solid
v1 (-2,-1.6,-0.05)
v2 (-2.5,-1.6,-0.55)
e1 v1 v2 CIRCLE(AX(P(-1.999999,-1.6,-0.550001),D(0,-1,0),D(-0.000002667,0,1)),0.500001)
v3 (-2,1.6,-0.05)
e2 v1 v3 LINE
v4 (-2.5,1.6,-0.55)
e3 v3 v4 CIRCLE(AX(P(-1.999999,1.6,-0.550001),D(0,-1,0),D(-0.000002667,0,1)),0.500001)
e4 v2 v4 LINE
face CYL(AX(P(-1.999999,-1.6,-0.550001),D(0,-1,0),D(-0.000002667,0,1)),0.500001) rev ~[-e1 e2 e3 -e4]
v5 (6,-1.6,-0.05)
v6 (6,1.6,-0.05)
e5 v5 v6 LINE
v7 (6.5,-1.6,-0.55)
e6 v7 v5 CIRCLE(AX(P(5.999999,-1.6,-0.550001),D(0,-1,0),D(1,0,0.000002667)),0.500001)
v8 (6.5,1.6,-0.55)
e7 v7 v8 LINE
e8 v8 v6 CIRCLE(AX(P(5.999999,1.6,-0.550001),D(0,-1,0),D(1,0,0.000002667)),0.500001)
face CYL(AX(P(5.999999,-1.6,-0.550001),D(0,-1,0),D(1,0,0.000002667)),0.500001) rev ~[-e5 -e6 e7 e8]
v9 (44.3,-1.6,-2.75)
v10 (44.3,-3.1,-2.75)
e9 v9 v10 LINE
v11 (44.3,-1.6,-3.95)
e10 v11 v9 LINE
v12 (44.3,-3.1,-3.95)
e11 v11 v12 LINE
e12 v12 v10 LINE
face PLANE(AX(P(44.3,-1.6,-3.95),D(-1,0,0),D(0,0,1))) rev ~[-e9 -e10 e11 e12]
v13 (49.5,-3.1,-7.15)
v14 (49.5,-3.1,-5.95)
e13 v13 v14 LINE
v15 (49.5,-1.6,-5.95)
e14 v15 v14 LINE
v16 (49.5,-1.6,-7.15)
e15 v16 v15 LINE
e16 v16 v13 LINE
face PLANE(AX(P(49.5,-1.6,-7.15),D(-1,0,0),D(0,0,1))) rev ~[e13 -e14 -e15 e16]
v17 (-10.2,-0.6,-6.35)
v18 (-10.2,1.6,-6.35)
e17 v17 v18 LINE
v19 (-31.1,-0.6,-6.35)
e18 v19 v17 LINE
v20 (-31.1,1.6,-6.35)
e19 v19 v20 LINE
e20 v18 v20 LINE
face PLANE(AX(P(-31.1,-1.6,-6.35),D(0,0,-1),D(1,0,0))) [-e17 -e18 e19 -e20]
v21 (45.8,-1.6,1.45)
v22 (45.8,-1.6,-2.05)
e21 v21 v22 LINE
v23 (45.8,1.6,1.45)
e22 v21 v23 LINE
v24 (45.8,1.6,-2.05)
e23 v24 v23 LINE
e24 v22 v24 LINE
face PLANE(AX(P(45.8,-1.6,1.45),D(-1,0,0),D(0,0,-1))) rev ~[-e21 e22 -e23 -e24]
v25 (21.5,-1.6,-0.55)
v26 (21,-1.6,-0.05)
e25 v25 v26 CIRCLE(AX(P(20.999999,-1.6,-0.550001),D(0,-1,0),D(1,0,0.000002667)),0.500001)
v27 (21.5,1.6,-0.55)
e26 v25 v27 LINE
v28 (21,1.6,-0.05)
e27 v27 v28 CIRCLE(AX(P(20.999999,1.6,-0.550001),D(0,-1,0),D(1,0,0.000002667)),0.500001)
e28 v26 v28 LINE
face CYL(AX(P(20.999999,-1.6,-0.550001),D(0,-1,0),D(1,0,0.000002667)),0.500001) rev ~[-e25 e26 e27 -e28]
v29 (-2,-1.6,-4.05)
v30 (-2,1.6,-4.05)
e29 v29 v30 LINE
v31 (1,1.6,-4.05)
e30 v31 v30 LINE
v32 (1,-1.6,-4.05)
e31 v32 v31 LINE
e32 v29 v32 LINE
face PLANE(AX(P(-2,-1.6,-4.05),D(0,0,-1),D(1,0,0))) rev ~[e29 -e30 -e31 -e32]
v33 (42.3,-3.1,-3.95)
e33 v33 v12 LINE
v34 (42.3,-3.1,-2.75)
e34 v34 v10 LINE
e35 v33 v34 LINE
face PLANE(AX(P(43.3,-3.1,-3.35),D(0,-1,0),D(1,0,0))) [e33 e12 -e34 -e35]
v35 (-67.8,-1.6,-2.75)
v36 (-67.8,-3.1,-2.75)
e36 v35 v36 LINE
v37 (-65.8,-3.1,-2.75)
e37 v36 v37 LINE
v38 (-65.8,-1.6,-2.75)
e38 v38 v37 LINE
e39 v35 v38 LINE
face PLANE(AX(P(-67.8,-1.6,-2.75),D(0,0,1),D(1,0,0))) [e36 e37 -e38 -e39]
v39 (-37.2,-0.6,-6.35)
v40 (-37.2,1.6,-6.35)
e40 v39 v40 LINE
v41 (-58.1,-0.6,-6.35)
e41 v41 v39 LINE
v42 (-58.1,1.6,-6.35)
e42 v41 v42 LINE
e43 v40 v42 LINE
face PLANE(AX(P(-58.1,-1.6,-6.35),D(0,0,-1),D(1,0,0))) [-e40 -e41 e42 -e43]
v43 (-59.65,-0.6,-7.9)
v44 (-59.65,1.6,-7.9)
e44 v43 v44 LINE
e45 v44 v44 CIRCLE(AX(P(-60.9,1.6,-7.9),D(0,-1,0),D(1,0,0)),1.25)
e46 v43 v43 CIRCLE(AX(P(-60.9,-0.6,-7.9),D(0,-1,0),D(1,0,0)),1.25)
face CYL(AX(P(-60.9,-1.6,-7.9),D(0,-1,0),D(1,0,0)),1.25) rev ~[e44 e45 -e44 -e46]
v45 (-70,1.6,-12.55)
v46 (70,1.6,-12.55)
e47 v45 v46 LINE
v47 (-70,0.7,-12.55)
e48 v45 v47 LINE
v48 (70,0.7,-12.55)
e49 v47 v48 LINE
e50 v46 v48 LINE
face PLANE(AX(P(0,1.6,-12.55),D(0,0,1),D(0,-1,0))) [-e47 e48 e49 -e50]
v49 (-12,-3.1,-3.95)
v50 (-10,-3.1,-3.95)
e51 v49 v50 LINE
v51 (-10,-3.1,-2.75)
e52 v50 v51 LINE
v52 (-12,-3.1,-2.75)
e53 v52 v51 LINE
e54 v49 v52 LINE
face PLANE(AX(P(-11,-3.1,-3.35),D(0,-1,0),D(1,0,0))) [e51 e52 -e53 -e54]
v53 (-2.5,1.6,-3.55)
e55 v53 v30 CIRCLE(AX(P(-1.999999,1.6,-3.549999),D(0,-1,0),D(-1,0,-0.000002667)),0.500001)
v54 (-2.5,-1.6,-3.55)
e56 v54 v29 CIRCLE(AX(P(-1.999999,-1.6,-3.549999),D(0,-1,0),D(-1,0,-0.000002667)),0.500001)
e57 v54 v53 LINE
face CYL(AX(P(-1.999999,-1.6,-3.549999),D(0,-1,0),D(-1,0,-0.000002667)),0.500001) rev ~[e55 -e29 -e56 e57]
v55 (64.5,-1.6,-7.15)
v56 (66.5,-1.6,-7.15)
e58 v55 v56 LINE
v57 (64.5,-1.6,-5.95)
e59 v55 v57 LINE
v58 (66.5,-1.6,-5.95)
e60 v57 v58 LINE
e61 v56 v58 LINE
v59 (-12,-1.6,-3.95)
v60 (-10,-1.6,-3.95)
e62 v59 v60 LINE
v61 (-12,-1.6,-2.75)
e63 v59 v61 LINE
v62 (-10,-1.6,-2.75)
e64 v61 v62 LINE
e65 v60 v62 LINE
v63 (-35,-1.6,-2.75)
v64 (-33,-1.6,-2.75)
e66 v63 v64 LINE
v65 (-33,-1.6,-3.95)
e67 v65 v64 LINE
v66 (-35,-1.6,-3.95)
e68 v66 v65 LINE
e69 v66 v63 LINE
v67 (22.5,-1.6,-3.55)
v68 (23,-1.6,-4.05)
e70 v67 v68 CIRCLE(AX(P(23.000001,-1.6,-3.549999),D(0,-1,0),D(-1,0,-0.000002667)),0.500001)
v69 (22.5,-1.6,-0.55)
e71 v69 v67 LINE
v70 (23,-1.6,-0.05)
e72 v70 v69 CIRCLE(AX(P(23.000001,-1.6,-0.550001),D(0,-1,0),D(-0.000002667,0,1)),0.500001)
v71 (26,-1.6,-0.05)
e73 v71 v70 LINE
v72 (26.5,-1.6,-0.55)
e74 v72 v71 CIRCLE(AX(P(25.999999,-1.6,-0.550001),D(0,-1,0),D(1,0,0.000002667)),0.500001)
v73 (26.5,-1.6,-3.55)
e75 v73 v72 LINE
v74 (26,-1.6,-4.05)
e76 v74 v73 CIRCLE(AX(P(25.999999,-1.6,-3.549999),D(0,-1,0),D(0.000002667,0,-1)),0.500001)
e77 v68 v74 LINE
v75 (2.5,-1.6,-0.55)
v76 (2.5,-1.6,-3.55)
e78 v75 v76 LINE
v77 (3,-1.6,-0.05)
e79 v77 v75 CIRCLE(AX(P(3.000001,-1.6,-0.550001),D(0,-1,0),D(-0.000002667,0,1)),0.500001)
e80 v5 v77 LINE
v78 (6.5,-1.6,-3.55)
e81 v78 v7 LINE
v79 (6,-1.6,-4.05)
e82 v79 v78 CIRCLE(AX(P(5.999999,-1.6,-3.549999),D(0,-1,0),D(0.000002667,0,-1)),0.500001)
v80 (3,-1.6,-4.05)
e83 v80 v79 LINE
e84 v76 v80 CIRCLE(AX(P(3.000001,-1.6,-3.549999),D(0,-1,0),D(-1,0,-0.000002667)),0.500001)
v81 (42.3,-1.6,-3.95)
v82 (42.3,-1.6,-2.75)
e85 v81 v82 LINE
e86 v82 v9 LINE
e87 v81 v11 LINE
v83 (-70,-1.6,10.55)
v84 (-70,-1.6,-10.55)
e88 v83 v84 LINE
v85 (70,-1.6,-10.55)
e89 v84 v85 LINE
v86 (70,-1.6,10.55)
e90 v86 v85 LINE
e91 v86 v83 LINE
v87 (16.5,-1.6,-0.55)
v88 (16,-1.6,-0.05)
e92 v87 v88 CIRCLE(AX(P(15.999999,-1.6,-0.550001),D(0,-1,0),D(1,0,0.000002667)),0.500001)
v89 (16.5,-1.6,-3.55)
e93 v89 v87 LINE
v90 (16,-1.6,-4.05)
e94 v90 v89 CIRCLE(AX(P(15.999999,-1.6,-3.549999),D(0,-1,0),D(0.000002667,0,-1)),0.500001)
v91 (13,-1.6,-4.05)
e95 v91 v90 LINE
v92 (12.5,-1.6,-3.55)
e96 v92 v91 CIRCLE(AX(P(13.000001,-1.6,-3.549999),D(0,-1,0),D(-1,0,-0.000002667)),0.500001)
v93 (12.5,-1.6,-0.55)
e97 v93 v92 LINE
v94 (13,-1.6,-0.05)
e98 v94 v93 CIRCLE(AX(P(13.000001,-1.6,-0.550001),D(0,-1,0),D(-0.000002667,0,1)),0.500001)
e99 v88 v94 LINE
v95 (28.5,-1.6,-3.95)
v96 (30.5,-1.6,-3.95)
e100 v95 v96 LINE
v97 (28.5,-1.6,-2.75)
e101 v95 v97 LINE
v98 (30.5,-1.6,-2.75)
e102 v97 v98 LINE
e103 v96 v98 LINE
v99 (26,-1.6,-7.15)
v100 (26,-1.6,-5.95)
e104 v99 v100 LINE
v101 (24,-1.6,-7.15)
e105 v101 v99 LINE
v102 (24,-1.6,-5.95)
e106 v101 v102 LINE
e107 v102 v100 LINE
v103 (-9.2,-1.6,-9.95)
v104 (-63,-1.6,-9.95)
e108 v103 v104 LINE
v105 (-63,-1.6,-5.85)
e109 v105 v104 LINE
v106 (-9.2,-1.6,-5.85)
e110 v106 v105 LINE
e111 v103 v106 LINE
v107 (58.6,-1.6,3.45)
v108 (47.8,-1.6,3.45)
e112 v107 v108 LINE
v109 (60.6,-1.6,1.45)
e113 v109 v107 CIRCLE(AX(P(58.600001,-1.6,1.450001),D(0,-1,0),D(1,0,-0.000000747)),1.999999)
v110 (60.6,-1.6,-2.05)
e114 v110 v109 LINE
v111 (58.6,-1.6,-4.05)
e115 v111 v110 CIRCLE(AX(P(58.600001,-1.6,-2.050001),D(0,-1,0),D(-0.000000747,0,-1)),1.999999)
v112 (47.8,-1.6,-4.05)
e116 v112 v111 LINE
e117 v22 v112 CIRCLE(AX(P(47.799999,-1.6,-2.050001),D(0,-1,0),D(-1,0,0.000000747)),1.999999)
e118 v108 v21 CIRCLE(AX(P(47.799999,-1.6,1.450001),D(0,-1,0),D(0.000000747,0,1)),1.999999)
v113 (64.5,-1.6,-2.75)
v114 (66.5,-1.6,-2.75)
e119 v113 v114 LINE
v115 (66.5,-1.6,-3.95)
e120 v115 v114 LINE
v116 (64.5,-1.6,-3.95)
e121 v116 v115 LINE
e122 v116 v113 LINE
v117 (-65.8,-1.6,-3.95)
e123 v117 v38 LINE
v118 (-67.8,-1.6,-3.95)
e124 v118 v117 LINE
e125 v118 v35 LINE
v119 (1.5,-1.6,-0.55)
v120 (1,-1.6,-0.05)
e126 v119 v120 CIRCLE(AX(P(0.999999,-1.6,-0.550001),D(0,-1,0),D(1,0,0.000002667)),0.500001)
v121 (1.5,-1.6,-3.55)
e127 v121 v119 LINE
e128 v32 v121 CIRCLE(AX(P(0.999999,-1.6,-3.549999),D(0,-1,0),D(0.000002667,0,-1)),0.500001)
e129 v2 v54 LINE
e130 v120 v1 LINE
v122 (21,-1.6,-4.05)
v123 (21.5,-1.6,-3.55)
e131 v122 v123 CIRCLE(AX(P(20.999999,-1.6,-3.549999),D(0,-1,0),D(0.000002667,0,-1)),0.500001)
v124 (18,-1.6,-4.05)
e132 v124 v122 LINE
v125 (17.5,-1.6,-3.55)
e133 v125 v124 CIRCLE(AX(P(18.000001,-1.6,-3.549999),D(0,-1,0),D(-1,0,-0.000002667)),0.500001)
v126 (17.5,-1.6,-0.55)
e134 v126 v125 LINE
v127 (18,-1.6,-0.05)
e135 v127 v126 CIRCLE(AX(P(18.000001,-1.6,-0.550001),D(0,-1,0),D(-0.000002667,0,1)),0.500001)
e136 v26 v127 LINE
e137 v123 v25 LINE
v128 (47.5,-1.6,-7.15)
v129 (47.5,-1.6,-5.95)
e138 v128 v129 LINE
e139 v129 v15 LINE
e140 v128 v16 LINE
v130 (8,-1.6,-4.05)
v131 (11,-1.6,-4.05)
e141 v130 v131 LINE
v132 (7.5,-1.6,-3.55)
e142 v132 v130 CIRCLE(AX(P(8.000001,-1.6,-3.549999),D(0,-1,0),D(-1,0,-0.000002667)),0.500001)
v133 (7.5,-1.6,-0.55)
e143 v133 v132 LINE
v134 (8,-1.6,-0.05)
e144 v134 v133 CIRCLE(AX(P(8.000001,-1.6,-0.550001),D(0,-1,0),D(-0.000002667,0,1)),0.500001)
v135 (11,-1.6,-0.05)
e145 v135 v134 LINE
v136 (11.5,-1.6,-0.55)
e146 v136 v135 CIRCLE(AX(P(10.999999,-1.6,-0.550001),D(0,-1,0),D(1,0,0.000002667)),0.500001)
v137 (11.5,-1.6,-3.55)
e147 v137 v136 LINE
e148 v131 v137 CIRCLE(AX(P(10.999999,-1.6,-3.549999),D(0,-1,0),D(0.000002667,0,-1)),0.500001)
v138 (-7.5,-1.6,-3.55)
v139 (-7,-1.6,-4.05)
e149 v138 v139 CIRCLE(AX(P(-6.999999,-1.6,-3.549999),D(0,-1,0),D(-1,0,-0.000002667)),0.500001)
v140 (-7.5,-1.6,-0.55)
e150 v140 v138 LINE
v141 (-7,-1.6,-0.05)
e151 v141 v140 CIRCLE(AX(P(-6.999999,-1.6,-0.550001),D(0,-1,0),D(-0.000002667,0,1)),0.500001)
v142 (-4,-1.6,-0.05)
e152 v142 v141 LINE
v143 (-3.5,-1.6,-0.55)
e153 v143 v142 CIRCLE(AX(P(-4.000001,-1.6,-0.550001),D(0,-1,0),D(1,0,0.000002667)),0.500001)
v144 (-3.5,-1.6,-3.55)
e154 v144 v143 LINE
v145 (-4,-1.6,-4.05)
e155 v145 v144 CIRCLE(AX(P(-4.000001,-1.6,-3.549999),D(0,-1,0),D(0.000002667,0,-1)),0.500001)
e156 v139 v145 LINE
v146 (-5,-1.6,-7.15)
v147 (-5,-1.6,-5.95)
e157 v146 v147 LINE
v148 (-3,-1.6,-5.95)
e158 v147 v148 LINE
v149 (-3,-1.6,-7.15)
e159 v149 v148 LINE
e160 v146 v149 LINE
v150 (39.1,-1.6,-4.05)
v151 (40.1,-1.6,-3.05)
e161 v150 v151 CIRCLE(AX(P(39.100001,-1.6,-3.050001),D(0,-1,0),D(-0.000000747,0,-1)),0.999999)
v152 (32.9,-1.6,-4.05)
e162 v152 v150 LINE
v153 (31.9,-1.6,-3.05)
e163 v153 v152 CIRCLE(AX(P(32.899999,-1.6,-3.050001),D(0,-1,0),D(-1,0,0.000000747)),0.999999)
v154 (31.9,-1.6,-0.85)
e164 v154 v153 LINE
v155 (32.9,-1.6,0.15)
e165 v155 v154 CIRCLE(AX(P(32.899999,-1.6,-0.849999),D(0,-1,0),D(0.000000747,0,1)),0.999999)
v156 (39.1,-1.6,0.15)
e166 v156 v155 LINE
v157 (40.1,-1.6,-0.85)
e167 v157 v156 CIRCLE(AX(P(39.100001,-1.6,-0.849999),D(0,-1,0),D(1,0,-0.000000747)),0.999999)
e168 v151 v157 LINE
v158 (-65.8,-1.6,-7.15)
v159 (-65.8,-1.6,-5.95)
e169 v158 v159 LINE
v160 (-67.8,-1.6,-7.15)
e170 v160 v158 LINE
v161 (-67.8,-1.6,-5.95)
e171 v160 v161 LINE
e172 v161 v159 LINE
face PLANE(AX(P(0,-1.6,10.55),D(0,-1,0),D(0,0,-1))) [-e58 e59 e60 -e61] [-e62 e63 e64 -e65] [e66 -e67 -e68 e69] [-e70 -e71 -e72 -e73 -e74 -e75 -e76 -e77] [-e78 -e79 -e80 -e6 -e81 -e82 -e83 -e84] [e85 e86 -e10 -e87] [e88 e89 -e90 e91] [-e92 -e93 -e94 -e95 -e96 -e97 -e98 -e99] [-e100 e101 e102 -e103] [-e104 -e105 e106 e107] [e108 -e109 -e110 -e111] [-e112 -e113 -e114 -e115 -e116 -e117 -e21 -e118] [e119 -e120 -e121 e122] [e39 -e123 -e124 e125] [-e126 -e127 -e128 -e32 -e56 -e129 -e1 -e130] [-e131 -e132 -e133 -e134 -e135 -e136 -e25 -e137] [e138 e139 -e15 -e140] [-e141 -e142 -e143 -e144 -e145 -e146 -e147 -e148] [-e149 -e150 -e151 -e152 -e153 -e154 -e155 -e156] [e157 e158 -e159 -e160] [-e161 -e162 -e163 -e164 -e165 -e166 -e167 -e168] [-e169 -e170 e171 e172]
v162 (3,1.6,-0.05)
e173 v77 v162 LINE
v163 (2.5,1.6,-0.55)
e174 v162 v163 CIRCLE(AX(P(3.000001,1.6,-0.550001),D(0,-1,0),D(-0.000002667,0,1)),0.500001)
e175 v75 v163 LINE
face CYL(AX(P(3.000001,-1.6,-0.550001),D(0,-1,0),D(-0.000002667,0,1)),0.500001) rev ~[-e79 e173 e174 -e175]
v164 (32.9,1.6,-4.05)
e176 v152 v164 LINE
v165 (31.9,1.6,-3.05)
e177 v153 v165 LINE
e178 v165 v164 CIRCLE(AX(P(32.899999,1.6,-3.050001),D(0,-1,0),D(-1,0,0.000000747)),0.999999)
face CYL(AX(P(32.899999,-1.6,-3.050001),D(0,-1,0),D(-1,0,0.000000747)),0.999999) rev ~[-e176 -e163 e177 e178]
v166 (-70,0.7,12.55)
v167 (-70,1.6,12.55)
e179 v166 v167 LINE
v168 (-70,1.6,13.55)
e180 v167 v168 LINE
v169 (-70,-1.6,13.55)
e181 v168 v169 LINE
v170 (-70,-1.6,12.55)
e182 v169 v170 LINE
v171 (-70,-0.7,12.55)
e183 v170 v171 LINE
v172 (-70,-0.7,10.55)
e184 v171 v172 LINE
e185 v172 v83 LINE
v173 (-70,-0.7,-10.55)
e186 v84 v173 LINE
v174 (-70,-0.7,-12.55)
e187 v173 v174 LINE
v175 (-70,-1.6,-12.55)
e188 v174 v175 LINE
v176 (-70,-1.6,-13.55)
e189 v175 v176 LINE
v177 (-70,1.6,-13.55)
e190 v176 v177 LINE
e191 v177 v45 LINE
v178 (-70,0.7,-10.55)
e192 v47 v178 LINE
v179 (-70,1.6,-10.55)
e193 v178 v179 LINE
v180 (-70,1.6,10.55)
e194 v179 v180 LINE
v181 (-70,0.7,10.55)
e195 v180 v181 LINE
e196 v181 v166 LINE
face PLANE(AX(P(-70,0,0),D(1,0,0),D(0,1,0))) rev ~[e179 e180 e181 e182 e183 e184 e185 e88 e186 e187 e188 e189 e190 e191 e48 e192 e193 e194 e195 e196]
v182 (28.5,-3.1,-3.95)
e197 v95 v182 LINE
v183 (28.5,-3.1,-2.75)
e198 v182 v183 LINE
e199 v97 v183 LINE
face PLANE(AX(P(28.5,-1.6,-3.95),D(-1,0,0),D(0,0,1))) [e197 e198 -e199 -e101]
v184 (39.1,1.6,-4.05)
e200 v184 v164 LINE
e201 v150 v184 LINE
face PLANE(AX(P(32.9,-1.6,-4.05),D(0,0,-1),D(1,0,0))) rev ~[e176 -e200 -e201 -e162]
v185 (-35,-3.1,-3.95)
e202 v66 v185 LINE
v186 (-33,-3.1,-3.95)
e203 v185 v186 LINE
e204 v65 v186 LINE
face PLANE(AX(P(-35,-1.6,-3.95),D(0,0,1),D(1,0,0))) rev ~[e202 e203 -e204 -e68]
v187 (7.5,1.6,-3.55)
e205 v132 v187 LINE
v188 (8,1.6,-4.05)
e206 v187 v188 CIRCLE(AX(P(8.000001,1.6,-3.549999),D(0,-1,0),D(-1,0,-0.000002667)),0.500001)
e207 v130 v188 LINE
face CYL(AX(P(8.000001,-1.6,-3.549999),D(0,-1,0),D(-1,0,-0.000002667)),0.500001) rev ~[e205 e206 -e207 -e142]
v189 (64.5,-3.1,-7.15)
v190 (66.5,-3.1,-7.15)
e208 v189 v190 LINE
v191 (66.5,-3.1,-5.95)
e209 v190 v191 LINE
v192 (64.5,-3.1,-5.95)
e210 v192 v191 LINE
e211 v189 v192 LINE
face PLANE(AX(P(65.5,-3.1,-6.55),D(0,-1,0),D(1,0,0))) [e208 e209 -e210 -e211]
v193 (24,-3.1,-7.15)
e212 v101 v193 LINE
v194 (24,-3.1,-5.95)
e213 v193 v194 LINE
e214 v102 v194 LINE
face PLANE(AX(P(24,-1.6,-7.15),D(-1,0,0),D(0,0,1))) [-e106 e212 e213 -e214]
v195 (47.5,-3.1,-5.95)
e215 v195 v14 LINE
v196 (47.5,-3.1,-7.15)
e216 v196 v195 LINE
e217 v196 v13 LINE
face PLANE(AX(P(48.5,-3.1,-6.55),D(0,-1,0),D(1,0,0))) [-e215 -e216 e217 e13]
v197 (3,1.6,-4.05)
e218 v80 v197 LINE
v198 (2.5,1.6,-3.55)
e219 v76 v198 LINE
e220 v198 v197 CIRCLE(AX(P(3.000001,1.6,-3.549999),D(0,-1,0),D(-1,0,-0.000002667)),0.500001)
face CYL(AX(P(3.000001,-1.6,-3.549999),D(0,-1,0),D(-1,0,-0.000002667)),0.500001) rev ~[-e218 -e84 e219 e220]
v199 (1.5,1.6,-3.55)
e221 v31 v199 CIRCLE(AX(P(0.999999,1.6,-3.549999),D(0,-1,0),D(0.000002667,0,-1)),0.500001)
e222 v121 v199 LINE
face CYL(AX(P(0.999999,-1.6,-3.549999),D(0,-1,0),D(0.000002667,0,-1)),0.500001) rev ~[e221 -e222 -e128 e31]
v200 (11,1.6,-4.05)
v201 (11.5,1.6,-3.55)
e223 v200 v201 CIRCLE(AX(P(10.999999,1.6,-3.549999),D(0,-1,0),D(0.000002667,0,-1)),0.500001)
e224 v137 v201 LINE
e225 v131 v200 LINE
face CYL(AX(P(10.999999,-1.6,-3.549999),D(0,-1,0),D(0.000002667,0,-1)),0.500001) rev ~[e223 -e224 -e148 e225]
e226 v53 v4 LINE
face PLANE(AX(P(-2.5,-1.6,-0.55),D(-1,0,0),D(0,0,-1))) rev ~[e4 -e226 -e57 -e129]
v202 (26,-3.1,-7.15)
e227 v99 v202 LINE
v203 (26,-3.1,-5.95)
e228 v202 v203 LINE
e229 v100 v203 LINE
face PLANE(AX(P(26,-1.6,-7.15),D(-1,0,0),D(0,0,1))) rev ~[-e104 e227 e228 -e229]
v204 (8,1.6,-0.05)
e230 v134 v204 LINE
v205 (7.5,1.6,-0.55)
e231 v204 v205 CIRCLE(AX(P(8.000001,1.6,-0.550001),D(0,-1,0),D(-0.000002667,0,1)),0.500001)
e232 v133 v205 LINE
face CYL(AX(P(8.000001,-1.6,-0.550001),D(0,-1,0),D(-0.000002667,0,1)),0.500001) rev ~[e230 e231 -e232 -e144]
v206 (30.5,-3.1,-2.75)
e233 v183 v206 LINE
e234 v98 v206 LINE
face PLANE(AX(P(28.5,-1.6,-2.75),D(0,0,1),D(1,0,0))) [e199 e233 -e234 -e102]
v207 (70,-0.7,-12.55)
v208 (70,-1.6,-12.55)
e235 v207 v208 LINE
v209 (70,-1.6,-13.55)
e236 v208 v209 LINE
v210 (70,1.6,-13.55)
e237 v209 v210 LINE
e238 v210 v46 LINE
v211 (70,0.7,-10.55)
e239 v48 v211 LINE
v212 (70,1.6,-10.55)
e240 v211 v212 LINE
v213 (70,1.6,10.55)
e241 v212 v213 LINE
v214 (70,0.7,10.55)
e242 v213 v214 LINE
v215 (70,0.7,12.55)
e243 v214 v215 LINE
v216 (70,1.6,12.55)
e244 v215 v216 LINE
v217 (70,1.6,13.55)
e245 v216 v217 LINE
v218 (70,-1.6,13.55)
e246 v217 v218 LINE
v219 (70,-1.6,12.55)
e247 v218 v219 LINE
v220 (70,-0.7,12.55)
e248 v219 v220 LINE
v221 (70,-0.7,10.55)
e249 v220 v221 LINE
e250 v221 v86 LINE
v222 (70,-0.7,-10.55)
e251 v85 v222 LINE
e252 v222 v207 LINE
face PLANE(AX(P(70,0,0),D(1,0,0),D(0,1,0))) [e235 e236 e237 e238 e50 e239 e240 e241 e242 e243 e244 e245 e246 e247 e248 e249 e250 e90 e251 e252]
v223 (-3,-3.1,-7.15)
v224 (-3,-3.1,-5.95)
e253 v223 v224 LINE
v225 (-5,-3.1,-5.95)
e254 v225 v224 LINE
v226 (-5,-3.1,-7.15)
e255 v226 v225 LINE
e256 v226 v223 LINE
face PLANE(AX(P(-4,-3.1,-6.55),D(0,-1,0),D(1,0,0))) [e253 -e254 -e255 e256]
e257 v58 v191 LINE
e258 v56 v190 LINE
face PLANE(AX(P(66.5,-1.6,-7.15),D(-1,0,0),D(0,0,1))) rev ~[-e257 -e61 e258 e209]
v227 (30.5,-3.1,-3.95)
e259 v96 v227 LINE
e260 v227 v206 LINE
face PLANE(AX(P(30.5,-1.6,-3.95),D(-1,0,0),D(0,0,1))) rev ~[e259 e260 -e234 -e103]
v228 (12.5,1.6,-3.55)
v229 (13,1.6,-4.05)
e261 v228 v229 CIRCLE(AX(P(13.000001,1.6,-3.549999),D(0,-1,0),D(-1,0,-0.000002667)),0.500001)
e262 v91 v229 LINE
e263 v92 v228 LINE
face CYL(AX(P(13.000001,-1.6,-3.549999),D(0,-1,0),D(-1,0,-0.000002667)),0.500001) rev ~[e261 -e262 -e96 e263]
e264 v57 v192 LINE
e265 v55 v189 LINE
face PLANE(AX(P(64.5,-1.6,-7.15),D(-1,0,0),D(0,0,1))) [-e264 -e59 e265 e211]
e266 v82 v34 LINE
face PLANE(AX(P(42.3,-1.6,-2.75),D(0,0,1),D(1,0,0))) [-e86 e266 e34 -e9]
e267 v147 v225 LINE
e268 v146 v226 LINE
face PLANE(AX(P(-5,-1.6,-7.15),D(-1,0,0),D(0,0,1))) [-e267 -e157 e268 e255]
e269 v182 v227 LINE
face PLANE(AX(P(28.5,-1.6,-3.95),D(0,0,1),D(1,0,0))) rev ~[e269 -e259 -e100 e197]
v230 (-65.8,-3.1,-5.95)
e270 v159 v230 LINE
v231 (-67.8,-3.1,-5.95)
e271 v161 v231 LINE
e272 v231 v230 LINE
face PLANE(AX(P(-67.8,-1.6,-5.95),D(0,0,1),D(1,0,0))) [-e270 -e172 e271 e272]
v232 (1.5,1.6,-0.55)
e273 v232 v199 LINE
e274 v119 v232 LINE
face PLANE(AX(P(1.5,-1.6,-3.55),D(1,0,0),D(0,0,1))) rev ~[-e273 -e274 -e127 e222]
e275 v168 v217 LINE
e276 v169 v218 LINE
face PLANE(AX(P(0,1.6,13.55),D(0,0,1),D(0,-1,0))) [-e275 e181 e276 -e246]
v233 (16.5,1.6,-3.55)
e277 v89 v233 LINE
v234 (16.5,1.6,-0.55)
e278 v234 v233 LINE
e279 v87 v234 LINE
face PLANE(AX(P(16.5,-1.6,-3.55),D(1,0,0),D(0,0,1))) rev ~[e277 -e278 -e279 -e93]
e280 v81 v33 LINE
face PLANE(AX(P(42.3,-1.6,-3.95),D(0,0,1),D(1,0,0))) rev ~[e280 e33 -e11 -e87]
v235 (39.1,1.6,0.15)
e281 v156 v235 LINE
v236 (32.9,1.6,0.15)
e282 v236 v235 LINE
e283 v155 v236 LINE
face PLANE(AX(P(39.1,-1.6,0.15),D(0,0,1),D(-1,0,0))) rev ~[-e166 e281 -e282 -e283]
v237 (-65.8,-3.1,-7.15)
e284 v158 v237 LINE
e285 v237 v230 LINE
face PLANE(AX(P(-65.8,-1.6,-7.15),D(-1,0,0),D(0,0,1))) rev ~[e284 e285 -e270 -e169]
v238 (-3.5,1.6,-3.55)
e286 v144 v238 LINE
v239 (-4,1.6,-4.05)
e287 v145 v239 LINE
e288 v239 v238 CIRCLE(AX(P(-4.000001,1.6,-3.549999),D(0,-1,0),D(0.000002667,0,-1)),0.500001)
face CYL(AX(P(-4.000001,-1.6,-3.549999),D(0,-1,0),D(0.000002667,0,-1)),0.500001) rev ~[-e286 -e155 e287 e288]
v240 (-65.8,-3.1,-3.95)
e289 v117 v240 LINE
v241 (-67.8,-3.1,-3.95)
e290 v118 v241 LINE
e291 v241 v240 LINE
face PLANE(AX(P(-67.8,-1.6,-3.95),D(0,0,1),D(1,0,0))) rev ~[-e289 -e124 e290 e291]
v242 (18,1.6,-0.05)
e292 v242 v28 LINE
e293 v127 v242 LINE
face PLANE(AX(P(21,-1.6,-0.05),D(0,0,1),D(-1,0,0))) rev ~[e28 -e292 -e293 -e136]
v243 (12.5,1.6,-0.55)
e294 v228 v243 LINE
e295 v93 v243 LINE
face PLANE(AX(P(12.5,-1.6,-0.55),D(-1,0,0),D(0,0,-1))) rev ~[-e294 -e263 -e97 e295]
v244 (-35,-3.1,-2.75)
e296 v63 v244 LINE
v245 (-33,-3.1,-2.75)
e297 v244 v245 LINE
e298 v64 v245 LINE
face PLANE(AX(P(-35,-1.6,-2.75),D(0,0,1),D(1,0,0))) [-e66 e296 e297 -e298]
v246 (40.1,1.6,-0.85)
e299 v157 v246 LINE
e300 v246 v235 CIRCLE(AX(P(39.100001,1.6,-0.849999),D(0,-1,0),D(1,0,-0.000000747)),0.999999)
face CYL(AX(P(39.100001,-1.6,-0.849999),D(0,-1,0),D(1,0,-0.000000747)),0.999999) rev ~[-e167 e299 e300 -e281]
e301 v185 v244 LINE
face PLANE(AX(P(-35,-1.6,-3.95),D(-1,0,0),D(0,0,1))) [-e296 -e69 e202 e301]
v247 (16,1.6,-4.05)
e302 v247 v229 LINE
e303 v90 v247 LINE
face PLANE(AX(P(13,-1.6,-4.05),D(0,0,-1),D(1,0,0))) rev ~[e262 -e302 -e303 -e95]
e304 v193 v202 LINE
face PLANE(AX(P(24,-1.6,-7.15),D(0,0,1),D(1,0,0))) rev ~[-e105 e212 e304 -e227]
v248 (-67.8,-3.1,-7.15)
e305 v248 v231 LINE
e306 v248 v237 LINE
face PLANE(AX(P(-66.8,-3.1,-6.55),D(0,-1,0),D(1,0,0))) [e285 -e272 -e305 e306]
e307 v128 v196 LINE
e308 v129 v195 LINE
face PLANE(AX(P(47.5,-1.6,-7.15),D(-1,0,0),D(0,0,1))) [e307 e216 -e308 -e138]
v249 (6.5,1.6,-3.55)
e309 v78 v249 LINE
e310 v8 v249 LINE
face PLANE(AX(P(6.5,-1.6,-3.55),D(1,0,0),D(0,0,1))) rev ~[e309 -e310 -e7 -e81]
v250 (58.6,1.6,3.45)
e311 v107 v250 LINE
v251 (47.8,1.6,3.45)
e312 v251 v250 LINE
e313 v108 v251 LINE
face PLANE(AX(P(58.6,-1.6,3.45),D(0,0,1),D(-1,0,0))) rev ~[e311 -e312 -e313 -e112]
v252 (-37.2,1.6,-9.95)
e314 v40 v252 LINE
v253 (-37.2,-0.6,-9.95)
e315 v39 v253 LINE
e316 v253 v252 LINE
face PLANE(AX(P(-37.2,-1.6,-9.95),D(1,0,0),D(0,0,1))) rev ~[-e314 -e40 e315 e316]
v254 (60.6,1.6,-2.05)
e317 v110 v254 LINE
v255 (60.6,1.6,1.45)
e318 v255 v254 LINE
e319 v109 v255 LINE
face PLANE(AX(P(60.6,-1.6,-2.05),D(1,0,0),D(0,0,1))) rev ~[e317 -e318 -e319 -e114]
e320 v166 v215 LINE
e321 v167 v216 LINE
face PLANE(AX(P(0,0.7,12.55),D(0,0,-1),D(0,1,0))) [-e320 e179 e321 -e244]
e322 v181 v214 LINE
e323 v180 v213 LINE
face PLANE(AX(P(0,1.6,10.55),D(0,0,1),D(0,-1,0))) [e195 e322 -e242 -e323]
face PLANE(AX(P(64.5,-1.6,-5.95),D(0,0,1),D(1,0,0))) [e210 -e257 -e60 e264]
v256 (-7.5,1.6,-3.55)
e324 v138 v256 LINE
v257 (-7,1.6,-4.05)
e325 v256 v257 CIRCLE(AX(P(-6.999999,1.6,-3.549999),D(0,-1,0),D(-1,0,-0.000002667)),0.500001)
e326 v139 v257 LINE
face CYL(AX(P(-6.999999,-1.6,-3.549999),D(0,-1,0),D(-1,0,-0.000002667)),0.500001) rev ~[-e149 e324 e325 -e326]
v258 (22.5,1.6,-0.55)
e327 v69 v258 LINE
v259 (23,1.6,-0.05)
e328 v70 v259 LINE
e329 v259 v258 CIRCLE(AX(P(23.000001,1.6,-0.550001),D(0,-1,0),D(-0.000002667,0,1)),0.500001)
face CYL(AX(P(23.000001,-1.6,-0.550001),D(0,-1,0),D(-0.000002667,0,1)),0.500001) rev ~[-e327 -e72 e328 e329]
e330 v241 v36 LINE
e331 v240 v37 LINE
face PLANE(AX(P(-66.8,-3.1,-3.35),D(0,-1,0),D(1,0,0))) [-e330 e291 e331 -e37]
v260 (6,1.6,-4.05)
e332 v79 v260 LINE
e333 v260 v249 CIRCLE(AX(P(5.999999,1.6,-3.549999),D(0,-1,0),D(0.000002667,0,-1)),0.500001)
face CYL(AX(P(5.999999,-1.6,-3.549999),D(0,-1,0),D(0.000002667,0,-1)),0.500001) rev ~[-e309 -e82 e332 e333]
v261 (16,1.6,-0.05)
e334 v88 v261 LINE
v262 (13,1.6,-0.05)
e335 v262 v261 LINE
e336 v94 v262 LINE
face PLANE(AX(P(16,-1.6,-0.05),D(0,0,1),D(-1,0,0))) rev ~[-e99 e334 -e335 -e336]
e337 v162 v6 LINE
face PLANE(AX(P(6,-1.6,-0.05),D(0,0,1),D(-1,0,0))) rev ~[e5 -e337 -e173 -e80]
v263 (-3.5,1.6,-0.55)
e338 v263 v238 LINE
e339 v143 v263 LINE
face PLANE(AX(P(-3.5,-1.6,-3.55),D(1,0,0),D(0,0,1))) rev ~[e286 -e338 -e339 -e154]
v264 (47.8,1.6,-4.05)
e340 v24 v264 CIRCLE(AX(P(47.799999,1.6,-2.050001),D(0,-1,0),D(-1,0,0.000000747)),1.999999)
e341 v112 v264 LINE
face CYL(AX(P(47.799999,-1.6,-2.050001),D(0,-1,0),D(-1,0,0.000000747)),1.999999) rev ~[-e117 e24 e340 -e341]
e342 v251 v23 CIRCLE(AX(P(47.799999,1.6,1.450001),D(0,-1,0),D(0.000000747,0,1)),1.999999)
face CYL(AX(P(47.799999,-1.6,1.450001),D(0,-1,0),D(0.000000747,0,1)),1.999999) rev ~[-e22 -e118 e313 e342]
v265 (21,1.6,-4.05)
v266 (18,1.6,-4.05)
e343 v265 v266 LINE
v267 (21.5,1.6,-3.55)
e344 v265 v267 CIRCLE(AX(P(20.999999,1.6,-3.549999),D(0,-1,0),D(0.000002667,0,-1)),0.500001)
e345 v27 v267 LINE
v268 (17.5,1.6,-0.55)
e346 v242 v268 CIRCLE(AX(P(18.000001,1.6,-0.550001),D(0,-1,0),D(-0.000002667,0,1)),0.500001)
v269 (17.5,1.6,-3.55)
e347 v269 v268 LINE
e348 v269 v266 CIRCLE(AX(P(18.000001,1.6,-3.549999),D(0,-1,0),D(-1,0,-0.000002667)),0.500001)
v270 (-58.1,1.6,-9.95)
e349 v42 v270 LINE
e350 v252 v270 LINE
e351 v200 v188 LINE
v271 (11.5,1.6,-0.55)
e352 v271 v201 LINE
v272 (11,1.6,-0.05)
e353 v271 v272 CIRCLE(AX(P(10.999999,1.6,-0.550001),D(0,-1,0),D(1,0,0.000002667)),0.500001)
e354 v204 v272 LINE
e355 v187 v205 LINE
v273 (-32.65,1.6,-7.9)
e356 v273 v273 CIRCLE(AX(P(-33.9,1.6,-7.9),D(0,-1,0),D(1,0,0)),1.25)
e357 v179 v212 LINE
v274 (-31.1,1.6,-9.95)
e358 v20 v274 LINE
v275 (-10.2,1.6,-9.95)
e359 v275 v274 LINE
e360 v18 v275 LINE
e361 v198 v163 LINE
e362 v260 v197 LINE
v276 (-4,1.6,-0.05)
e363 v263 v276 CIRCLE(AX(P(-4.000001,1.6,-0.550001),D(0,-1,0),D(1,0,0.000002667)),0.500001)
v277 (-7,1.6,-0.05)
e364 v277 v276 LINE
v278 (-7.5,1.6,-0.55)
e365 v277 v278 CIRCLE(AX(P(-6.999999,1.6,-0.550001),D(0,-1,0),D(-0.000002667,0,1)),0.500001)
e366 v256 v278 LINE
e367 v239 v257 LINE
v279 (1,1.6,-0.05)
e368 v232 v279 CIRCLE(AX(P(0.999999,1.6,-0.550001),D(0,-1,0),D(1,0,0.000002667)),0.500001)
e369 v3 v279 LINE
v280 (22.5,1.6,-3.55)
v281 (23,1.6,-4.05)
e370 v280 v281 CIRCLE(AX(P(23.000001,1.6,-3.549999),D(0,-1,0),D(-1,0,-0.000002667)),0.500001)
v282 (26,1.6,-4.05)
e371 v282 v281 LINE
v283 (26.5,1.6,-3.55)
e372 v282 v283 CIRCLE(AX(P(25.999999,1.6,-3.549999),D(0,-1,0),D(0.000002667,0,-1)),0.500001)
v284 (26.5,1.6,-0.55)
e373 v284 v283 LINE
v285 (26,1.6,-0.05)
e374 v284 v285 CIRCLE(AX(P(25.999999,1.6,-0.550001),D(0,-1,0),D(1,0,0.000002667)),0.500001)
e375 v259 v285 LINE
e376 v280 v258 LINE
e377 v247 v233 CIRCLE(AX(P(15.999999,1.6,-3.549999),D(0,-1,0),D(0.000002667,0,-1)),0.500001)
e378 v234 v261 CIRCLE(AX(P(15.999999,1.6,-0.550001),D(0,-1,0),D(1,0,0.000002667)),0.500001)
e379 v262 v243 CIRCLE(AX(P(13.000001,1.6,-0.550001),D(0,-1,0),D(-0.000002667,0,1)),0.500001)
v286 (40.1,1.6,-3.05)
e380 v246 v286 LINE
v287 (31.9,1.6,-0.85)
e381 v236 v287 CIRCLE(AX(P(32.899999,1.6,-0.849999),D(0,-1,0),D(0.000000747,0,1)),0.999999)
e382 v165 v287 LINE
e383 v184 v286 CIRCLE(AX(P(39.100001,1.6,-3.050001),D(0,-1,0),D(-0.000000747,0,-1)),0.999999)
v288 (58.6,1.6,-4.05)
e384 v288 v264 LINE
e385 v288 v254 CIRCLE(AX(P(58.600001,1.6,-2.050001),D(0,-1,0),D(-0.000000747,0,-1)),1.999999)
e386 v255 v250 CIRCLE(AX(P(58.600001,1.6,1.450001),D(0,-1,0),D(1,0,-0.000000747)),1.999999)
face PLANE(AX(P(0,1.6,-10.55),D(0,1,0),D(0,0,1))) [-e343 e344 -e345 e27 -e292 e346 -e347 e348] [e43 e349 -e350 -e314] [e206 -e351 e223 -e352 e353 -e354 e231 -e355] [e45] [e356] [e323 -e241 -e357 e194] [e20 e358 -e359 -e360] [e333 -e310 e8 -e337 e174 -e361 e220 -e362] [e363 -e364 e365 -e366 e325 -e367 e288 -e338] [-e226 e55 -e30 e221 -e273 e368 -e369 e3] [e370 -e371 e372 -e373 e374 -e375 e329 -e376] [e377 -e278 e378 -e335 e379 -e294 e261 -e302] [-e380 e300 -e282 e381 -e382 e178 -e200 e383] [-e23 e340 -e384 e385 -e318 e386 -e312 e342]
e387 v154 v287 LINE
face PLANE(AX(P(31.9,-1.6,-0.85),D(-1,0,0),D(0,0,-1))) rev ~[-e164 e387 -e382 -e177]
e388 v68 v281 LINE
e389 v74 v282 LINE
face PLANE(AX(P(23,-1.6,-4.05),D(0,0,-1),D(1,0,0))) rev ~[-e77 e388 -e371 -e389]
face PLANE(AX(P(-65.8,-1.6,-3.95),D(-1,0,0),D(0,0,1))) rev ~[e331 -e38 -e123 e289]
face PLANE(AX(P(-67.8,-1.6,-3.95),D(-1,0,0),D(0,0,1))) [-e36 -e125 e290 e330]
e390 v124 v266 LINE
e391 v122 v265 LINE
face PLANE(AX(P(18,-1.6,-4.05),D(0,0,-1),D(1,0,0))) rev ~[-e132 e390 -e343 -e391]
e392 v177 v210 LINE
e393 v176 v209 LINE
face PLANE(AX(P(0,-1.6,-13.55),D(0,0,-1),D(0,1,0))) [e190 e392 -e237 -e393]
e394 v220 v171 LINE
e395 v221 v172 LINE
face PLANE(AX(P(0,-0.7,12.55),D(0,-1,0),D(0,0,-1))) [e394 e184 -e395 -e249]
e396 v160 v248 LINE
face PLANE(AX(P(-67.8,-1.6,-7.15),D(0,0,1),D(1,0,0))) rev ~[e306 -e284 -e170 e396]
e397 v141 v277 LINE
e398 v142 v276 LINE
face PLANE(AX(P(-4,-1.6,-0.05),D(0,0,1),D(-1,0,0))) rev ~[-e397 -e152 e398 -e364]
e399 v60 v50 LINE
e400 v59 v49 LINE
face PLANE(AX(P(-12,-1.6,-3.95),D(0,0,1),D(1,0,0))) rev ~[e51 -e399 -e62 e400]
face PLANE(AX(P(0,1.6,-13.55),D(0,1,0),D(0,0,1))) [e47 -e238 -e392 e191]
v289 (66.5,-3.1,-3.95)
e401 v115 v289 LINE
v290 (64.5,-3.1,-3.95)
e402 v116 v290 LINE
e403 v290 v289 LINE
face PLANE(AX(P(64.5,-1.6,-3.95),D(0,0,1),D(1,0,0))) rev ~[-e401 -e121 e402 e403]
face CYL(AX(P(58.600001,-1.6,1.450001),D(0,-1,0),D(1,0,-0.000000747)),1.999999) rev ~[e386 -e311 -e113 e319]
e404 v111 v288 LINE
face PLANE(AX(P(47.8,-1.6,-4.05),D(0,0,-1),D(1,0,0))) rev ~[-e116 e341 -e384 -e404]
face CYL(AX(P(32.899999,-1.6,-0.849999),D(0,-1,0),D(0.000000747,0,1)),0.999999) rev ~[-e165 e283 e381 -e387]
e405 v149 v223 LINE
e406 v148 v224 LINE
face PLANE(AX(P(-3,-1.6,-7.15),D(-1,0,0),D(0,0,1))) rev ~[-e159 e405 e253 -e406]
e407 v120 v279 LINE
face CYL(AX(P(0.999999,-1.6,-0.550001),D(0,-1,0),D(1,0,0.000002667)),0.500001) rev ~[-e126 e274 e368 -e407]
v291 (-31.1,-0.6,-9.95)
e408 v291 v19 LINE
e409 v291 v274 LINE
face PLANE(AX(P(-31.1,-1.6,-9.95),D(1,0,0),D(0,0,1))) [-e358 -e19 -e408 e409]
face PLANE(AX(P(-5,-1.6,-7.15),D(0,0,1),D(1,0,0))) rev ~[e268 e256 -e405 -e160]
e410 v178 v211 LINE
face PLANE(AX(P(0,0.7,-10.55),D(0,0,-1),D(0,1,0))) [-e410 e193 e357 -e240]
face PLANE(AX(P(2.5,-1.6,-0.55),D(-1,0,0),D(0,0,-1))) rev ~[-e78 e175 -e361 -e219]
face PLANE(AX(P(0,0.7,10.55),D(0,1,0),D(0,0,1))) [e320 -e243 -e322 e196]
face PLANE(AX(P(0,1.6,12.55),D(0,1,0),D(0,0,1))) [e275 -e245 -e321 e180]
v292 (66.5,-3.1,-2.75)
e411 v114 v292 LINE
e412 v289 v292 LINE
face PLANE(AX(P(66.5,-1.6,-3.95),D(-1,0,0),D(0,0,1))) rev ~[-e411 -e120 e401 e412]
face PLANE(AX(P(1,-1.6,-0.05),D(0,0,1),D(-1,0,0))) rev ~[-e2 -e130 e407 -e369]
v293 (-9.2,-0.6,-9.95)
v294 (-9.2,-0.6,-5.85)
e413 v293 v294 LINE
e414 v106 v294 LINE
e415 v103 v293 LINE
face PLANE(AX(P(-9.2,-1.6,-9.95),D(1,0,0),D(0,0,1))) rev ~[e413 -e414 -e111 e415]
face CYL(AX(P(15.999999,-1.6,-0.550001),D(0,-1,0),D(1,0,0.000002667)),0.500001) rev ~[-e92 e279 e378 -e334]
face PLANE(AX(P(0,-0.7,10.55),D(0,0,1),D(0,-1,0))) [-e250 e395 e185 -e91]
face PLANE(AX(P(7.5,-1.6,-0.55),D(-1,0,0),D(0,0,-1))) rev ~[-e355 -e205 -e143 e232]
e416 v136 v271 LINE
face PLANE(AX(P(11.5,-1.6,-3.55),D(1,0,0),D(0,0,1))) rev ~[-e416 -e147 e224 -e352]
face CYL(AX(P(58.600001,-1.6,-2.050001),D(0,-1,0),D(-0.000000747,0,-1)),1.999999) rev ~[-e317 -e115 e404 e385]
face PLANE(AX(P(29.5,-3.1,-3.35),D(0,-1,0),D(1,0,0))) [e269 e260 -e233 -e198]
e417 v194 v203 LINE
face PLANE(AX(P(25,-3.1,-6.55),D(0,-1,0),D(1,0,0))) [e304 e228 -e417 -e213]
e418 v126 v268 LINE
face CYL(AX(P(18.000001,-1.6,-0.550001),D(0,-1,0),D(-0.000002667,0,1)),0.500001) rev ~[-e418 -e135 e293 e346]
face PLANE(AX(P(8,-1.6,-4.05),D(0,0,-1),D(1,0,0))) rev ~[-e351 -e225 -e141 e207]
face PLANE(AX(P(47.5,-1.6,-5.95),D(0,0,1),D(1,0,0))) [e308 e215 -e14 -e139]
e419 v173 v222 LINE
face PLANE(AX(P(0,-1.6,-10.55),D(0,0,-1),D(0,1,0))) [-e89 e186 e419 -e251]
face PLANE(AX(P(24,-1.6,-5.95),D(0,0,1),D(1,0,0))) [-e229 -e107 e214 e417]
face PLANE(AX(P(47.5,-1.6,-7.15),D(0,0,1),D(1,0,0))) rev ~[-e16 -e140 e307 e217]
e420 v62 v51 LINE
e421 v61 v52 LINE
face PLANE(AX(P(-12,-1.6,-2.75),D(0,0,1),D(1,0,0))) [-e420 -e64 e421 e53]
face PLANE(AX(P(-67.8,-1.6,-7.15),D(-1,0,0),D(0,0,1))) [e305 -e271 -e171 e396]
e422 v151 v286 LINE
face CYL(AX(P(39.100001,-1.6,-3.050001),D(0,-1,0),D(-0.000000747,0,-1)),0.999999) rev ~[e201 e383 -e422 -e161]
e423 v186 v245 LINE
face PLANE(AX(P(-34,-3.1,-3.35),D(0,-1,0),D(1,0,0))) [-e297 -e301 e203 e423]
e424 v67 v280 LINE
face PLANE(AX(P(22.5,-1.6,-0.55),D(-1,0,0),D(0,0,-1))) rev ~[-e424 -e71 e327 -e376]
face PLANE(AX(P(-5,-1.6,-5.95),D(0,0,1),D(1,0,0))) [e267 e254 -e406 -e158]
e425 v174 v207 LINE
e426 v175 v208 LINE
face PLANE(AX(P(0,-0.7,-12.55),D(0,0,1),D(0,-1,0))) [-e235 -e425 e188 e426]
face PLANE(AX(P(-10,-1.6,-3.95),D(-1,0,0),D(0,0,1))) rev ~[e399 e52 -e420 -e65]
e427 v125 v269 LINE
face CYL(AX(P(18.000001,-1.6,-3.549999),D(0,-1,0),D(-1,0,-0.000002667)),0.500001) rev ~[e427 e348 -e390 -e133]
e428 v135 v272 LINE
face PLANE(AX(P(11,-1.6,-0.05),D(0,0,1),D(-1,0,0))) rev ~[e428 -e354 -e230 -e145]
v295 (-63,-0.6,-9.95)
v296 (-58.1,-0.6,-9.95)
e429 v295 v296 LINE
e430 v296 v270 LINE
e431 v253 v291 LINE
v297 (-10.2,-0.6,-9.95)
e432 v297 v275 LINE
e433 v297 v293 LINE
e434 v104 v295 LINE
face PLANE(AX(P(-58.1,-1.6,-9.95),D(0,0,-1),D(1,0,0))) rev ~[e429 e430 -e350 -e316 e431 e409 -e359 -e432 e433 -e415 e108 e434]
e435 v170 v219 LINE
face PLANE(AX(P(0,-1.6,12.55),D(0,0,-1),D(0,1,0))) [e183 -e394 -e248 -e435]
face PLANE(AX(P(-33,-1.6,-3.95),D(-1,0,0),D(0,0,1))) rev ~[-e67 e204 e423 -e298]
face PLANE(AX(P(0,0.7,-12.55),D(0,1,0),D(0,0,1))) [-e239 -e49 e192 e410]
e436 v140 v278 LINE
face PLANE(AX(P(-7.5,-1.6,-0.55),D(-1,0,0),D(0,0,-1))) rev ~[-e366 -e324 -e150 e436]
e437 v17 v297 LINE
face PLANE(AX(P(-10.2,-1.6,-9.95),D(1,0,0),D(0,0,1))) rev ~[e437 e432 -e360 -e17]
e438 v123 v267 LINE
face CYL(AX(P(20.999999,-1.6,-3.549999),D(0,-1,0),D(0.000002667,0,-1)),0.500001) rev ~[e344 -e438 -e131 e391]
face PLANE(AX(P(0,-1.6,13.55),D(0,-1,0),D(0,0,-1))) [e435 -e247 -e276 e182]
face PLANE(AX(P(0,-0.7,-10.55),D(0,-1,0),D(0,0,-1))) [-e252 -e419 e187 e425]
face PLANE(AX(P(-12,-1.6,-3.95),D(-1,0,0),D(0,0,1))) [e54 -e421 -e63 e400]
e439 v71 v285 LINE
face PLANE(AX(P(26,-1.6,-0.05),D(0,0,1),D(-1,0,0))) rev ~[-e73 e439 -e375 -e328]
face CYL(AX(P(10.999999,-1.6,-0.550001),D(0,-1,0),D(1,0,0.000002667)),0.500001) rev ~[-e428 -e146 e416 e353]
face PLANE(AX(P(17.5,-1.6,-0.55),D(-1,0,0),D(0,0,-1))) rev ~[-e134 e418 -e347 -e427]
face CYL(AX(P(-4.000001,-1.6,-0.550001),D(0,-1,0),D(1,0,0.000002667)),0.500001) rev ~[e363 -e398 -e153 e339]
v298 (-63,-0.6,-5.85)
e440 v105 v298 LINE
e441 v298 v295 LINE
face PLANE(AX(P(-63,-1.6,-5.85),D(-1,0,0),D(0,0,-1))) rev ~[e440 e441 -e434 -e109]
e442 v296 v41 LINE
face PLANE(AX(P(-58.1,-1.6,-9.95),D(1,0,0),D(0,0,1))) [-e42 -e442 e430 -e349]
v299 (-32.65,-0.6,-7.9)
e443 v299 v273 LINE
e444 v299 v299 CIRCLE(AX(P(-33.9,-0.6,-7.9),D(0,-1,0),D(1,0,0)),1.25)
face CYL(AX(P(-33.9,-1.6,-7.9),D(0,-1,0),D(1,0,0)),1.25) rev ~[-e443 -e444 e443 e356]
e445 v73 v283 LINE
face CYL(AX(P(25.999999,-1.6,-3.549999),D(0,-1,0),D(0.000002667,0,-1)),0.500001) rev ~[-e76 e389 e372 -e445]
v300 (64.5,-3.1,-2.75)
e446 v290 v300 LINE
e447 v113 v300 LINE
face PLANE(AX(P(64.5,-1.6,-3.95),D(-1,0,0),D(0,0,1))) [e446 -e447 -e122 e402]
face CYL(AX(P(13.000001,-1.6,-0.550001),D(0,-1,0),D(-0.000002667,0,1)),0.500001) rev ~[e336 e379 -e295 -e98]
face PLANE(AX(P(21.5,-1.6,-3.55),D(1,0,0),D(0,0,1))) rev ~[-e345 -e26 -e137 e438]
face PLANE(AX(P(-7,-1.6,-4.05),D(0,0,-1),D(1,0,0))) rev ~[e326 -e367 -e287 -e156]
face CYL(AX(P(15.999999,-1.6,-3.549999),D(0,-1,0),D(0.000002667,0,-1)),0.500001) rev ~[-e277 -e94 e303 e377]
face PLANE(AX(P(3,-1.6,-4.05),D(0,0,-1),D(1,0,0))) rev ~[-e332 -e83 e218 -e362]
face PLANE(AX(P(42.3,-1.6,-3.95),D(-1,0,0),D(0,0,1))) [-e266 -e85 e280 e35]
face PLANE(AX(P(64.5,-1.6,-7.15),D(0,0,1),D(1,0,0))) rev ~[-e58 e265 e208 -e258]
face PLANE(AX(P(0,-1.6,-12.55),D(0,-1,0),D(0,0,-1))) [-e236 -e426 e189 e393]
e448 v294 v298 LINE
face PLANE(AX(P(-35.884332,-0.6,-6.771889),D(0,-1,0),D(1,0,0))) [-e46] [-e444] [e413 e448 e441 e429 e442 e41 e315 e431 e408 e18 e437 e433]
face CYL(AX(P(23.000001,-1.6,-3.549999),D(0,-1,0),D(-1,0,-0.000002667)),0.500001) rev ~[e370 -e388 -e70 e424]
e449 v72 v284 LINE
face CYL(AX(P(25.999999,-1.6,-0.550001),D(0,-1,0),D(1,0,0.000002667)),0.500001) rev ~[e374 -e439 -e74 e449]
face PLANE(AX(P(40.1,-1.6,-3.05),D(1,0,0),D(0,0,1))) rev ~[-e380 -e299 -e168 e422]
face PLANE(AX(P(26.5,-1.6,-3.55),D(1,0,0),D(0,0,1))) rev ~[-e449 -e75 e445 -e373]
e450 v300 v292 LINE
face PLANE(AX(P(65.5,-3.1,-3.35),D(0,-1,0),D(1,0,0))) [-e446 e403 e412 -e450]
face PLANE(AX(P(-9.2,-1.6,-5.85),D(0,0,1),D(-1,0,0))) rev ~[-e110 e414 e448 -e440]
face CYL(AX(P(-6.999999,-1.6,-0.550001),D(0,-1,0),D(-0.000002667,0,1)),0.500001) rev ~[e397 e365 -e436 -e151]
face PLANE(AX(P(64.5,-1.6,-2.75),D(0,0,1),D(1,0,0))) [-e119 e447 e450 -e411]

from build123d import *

# Parameters (mm, degrees)
F1_DEPTH = 70
F2_R     = 1.25
F2_W     = 20.9
F2_H     = 3.6
F3_DEPTH = 4
F4_DEPTH = 1
F2_W_2   = 2
F2_H_2   = 1.2
F5_DEPTH = 1.5


with BuildPart() as f1:
    # F0 (on Right) → F1 (new body, symmetric)
    with BuildSketch(Plane.YZ):
        Polygon((-1.6, 10.55), (-1.6, 0), (-1.6, -10.55), (-0.7, -10.55), (-0.7, -12.55), (-1.6, -12.55), (-1.6, -13.55), (0, -13.55), (1.6, -13.55), (1.6, -12.55), (0.7, -12.55), (0.7, -10.55), (1.6, -10.55), (1.6, 0), (1.6, 10.55), (0.7, 10.55), (0.7, 12.55), (1.6, 12.55), (1.6, 13.55), (0, 13.55), (-1.6, 13.55), (-1.6, 12.55), (-0.7, 12.55), (-0.7, 10.55), align=None)
    extrude(amount=F1_DEPTH, both=True)

    # F2 (on face) → F3 (cut)
    with BuildSketch(Plane.XZ.offset(1.6)):
        with BuildLine():
            Line((-7, -4.05), (-4, -4.05))
            ThreePointArc((-4, -4.05), (-3.646447, -3.903553), (-3.5, -3.55))
            Line((-3.5, -3.55), (-3.5, -0.55))
            ThreePointArc((-3.5, -0.55), (-3.646447, -0.196447), (-4, -0.05))
            Line((-4, -0.05), (-7, -0.05))
            ThreePointArc((-7, -0.05), (-7.353553, -0.196447), (-7.5, -0.55))
            Line((-7.5, -0.55), (-7.5, -3.55))
            ThreePointArc((-7.5, -3.55), (-7.353553, -3.903553), (-7, -4.05))
        make_face()
        with BuildLine():
            ThreePointArc((1.5, -0.55), (1.353553, -0.196447), (1, -0.05))
            Line((1, -0.05), (-2, -0.05))
            ThreePointArc((-2, -0.05), (-2.353553, -0.196447), (-2.5, -0.55))
            Line((-2.5, -0.55), (-2.5, -3.55))
            ThreePointArc((-2.5, -3.55), (-2.353553, -3.903553), (-2, -4.05))
            Line((-2, -4.05), (1, -4.05))
            ThreePointArc((1, -4.05), (1.353553, -3.903553), (1.5, -3.55))
            Line((1.5, -3.55), (1.5, -0.55))
        make_face()
        with BuildLine():
            ThreePointArc((6.5, -0.55), (6.353553, -0.196447), (6, -0.05))
            Line((6, -0.05), (3, -0.05))
            ThreePointArc((3, -0.05), (2.646447, -0.196447), (2.5, -0.55))
            Line((2.5, -0.55), (2.5, -3.55))
            ThreePointArc((2.5, -3.55), (2.646447, -3.903553), (3, -4.05))
            Line((3, -4.05), (6, -4.05))
            ThreePointArc((6, -4.05), (6.353553, -3.903553), (6.5, -3.55))
            Line((6.5, -3.55), (6.5, -0.55))
        make_face()
        with BuildLine():
            ThreePointArc((11.5, -0.55), (11.353553, -0.196447), (11, -0.05))
            Line((11, -0.05), (8, -0.05))
            ThreePointArc((8, -0.05), (7.646447, -0.196447), (7.5, -0.55))
            Line((7.5, -0.55), (7.5, -3.55))
            ThreePointArc((7.5, -3.55), (7.646447, -3.903553), (8, -4.05))
            Line((8, -4.05), (11, -4.05))
            ThreePointArc((11, -4.05), (11.353553, -3.903553), (11.5, -3.55))
            Line((11.5, -3.55), (11.5, -0.55))
        make_face()
        with BuildLine():
            ThreePointArc((16.5, -0.55), (16.353553, -0.196447), (16, -0.05))
            Line((16, -0.05), (13, -0.05))
            ThreePointArc((13, -0.05), (12.646447, -0.196447), (12.5, -0.55))
            Line((12.5, -0.55), (12.5, -3.55))
            ThreePointArc((12.5, -3.55), (12.646447, -3.903553), (13, -4.05))
            Line((13, -4.05), (16, -4.05))
            ThreePointArc((16, -4.05), (16.353553, -3.903553), (16.5, -3.55))
            Line((16.5, -3.55), (16.5, -0.55))
        make_face()
        with BuildLine():
            ThreePointArc((21.5, -0.55), (21.353553, -0.196447), (21, -0.05))
            Line((21, -0.05), (18, -0.05))
            ThreePointArc((18, -0.05), (17.646447, -0.196447), (17.5, -0.55))
            Line((17.5, -0.55), (17.5, -3.55))
            ThreePointArc((17.5, -3.55), (17.646447, -3.903553), (18, -4.05))
            Line((18, -4.05), (21, -4.05))
            ThreePointArc((21, -4.05), (21.353553, -3.903553), (21.5, -3.55))
            Line((21.5, -3.55), (21.5, -0.55))
        make_face()
        with BuildLine():
            ThreePointArc((26.5, -0.55), (26.353553, -0.196447), (26, -0.05))
            Line((26, -0.05), (23, -0.05))
            ThreePointArc((23, -0.05), (22.646447, -0.196447), (22.5, -0.55))
            Line((22.5, -0.55), (22.5, -3.55))
            ThreePointArc((22.5, -3.55), (22.646447, -3.903553), (23, -4.05))
            Line((23, -4.05), (26, -4.05))
            ThreePointArc((26, -4.05), (26.353553, -3.903553), (26.5, -3.55))
            Line((26.5, -3.55), (26.5, -0.55))
        make_face()
        with BuildLine():
            Line((32.9, -4.05), (39.1, -4.05))
            ThreePointArc((39.1, -4.05), (39.807107, -3.757107), (40.1, -3.05))
            Line((40.1, -3.05), (40.1, -0.85))
            ThreePointArc((40.1, -0.85), (39.807107, -0.142893), (39.1, 0.15))
            Line((39.1, 0.15), (32.9, 0.15))
            ThreePointArc((32.9, 0.15), (32.192893, -0.142893), (31.9, -0.85))
            Line((31.9, -0.85), (31.9, -3.05))
            ThreePointArc((31.9, -3.05), (32.192893, -3.757107), (32.9, -4.05))
        make_face()
        with BuildLine():
            Line((47.8, -4.05), (58.6, -4.05))
            ThreePointArc((58.6, -4.05), (60.014214, -3.464214), (60.6, -2.05))
            Line((60.6, -2.05), (60.6, 1.45))
            ThreePointArc((60.6, 1.45), (60.014214, 2.864214), (58.6, 3.45))
            Line((58.6, 3.45), (47.8, 3.45))
            ThreePointArc((47.8, 3.45), (46.385786, 2.864214), (45.8, 1.45))
            Line((45.8, 1.45), (45.8, -2.05))
            ThreePointArc((45.8, -2.05), (46.385786, -3.464214), (47.8, -4.05))
        make_face()
        with Locations((-33.9, -7.9)):
            Circle(F2_R)
        with Locations((-20.65, -8.15)):
            Rectangle(F2_W, F2_H)
        with Locations((-47.65, -8.15)):
            Rectangle(F2_W, F2_H)
        with Locations((-60.9, -7.9)):
            Circle(F2_R)
    extrude(amount=-F3_DEPTH, mode=Mode.SUBTRACT)

    # F2 (on face) → F4 (cut)
    with BuildSketch(Plane.XZ.offset(1.6)):
        Polygon((-10.2, -9.95), (-9.2, -9.95), (-9.2, -5.85), (-63, -5.85), (-63, -9.95), (-58.1, -9.95), (-58.1, -6.35), (-37.2, -6.35), (-37.2, -9.95), (-31.1, -9.95), (-31.1, -6.35), (-10.2, -6.35), align=None)
        with Locations((-60.9, -7.9)):
            Circle(F2_R, mode=Mode.SUBTRACT)
        with Locations((-33.9, -7.9)):
            Circle(F2_R, mode=Mode.SUBTRACT)
    extrude(amount=-F4_DEPTH, mode=Mode.SUBTRACT)

    # F2 (on face) → F5 (join)
    with BuildSketch(Plane.XZ.offset(1.6)):
        with Locations((-66.8, -3.35)):
            Rectangle(F2_W_2, F2_H_2)
        with Locations((-66.8, -6.55)):
            Rectangle(F2_W_2, F2_H_2)
        with Locations((-34, -3.35)):
            Rectangle(F2_W_2, F2_H_2)
        with Locations((-11, -3.35)):
            Rectangle(F2_W_2, F2_H_2)
        with Locations((-4, -6.55)):
            Rectangle(F2_W_2, F2_H_2)
        with Locations((25, -6.55)):
            Rectangle(F2_W_2, F2_H_2)
        with Locations((29.5, -3.35)):
            Rectangle(F2_W_2, F2_H_2)
        with Locations((43.3, -3.35)):
            Rectangle(F2_W_2, F2_H_2)
        with Locations((48.5, -6.55)):
            Rectangle(F2_W_2, F2_H_2)
        with Locations((65.5, -3.35)):
            Rectangle(F2_W_2, F2_H_2)
        with Locations((65.5, -6.55)):
            Rectangle(F2_W_2, F2_H_2)
    extrude(amount=F5_DEPTH)


solid = f1.part
